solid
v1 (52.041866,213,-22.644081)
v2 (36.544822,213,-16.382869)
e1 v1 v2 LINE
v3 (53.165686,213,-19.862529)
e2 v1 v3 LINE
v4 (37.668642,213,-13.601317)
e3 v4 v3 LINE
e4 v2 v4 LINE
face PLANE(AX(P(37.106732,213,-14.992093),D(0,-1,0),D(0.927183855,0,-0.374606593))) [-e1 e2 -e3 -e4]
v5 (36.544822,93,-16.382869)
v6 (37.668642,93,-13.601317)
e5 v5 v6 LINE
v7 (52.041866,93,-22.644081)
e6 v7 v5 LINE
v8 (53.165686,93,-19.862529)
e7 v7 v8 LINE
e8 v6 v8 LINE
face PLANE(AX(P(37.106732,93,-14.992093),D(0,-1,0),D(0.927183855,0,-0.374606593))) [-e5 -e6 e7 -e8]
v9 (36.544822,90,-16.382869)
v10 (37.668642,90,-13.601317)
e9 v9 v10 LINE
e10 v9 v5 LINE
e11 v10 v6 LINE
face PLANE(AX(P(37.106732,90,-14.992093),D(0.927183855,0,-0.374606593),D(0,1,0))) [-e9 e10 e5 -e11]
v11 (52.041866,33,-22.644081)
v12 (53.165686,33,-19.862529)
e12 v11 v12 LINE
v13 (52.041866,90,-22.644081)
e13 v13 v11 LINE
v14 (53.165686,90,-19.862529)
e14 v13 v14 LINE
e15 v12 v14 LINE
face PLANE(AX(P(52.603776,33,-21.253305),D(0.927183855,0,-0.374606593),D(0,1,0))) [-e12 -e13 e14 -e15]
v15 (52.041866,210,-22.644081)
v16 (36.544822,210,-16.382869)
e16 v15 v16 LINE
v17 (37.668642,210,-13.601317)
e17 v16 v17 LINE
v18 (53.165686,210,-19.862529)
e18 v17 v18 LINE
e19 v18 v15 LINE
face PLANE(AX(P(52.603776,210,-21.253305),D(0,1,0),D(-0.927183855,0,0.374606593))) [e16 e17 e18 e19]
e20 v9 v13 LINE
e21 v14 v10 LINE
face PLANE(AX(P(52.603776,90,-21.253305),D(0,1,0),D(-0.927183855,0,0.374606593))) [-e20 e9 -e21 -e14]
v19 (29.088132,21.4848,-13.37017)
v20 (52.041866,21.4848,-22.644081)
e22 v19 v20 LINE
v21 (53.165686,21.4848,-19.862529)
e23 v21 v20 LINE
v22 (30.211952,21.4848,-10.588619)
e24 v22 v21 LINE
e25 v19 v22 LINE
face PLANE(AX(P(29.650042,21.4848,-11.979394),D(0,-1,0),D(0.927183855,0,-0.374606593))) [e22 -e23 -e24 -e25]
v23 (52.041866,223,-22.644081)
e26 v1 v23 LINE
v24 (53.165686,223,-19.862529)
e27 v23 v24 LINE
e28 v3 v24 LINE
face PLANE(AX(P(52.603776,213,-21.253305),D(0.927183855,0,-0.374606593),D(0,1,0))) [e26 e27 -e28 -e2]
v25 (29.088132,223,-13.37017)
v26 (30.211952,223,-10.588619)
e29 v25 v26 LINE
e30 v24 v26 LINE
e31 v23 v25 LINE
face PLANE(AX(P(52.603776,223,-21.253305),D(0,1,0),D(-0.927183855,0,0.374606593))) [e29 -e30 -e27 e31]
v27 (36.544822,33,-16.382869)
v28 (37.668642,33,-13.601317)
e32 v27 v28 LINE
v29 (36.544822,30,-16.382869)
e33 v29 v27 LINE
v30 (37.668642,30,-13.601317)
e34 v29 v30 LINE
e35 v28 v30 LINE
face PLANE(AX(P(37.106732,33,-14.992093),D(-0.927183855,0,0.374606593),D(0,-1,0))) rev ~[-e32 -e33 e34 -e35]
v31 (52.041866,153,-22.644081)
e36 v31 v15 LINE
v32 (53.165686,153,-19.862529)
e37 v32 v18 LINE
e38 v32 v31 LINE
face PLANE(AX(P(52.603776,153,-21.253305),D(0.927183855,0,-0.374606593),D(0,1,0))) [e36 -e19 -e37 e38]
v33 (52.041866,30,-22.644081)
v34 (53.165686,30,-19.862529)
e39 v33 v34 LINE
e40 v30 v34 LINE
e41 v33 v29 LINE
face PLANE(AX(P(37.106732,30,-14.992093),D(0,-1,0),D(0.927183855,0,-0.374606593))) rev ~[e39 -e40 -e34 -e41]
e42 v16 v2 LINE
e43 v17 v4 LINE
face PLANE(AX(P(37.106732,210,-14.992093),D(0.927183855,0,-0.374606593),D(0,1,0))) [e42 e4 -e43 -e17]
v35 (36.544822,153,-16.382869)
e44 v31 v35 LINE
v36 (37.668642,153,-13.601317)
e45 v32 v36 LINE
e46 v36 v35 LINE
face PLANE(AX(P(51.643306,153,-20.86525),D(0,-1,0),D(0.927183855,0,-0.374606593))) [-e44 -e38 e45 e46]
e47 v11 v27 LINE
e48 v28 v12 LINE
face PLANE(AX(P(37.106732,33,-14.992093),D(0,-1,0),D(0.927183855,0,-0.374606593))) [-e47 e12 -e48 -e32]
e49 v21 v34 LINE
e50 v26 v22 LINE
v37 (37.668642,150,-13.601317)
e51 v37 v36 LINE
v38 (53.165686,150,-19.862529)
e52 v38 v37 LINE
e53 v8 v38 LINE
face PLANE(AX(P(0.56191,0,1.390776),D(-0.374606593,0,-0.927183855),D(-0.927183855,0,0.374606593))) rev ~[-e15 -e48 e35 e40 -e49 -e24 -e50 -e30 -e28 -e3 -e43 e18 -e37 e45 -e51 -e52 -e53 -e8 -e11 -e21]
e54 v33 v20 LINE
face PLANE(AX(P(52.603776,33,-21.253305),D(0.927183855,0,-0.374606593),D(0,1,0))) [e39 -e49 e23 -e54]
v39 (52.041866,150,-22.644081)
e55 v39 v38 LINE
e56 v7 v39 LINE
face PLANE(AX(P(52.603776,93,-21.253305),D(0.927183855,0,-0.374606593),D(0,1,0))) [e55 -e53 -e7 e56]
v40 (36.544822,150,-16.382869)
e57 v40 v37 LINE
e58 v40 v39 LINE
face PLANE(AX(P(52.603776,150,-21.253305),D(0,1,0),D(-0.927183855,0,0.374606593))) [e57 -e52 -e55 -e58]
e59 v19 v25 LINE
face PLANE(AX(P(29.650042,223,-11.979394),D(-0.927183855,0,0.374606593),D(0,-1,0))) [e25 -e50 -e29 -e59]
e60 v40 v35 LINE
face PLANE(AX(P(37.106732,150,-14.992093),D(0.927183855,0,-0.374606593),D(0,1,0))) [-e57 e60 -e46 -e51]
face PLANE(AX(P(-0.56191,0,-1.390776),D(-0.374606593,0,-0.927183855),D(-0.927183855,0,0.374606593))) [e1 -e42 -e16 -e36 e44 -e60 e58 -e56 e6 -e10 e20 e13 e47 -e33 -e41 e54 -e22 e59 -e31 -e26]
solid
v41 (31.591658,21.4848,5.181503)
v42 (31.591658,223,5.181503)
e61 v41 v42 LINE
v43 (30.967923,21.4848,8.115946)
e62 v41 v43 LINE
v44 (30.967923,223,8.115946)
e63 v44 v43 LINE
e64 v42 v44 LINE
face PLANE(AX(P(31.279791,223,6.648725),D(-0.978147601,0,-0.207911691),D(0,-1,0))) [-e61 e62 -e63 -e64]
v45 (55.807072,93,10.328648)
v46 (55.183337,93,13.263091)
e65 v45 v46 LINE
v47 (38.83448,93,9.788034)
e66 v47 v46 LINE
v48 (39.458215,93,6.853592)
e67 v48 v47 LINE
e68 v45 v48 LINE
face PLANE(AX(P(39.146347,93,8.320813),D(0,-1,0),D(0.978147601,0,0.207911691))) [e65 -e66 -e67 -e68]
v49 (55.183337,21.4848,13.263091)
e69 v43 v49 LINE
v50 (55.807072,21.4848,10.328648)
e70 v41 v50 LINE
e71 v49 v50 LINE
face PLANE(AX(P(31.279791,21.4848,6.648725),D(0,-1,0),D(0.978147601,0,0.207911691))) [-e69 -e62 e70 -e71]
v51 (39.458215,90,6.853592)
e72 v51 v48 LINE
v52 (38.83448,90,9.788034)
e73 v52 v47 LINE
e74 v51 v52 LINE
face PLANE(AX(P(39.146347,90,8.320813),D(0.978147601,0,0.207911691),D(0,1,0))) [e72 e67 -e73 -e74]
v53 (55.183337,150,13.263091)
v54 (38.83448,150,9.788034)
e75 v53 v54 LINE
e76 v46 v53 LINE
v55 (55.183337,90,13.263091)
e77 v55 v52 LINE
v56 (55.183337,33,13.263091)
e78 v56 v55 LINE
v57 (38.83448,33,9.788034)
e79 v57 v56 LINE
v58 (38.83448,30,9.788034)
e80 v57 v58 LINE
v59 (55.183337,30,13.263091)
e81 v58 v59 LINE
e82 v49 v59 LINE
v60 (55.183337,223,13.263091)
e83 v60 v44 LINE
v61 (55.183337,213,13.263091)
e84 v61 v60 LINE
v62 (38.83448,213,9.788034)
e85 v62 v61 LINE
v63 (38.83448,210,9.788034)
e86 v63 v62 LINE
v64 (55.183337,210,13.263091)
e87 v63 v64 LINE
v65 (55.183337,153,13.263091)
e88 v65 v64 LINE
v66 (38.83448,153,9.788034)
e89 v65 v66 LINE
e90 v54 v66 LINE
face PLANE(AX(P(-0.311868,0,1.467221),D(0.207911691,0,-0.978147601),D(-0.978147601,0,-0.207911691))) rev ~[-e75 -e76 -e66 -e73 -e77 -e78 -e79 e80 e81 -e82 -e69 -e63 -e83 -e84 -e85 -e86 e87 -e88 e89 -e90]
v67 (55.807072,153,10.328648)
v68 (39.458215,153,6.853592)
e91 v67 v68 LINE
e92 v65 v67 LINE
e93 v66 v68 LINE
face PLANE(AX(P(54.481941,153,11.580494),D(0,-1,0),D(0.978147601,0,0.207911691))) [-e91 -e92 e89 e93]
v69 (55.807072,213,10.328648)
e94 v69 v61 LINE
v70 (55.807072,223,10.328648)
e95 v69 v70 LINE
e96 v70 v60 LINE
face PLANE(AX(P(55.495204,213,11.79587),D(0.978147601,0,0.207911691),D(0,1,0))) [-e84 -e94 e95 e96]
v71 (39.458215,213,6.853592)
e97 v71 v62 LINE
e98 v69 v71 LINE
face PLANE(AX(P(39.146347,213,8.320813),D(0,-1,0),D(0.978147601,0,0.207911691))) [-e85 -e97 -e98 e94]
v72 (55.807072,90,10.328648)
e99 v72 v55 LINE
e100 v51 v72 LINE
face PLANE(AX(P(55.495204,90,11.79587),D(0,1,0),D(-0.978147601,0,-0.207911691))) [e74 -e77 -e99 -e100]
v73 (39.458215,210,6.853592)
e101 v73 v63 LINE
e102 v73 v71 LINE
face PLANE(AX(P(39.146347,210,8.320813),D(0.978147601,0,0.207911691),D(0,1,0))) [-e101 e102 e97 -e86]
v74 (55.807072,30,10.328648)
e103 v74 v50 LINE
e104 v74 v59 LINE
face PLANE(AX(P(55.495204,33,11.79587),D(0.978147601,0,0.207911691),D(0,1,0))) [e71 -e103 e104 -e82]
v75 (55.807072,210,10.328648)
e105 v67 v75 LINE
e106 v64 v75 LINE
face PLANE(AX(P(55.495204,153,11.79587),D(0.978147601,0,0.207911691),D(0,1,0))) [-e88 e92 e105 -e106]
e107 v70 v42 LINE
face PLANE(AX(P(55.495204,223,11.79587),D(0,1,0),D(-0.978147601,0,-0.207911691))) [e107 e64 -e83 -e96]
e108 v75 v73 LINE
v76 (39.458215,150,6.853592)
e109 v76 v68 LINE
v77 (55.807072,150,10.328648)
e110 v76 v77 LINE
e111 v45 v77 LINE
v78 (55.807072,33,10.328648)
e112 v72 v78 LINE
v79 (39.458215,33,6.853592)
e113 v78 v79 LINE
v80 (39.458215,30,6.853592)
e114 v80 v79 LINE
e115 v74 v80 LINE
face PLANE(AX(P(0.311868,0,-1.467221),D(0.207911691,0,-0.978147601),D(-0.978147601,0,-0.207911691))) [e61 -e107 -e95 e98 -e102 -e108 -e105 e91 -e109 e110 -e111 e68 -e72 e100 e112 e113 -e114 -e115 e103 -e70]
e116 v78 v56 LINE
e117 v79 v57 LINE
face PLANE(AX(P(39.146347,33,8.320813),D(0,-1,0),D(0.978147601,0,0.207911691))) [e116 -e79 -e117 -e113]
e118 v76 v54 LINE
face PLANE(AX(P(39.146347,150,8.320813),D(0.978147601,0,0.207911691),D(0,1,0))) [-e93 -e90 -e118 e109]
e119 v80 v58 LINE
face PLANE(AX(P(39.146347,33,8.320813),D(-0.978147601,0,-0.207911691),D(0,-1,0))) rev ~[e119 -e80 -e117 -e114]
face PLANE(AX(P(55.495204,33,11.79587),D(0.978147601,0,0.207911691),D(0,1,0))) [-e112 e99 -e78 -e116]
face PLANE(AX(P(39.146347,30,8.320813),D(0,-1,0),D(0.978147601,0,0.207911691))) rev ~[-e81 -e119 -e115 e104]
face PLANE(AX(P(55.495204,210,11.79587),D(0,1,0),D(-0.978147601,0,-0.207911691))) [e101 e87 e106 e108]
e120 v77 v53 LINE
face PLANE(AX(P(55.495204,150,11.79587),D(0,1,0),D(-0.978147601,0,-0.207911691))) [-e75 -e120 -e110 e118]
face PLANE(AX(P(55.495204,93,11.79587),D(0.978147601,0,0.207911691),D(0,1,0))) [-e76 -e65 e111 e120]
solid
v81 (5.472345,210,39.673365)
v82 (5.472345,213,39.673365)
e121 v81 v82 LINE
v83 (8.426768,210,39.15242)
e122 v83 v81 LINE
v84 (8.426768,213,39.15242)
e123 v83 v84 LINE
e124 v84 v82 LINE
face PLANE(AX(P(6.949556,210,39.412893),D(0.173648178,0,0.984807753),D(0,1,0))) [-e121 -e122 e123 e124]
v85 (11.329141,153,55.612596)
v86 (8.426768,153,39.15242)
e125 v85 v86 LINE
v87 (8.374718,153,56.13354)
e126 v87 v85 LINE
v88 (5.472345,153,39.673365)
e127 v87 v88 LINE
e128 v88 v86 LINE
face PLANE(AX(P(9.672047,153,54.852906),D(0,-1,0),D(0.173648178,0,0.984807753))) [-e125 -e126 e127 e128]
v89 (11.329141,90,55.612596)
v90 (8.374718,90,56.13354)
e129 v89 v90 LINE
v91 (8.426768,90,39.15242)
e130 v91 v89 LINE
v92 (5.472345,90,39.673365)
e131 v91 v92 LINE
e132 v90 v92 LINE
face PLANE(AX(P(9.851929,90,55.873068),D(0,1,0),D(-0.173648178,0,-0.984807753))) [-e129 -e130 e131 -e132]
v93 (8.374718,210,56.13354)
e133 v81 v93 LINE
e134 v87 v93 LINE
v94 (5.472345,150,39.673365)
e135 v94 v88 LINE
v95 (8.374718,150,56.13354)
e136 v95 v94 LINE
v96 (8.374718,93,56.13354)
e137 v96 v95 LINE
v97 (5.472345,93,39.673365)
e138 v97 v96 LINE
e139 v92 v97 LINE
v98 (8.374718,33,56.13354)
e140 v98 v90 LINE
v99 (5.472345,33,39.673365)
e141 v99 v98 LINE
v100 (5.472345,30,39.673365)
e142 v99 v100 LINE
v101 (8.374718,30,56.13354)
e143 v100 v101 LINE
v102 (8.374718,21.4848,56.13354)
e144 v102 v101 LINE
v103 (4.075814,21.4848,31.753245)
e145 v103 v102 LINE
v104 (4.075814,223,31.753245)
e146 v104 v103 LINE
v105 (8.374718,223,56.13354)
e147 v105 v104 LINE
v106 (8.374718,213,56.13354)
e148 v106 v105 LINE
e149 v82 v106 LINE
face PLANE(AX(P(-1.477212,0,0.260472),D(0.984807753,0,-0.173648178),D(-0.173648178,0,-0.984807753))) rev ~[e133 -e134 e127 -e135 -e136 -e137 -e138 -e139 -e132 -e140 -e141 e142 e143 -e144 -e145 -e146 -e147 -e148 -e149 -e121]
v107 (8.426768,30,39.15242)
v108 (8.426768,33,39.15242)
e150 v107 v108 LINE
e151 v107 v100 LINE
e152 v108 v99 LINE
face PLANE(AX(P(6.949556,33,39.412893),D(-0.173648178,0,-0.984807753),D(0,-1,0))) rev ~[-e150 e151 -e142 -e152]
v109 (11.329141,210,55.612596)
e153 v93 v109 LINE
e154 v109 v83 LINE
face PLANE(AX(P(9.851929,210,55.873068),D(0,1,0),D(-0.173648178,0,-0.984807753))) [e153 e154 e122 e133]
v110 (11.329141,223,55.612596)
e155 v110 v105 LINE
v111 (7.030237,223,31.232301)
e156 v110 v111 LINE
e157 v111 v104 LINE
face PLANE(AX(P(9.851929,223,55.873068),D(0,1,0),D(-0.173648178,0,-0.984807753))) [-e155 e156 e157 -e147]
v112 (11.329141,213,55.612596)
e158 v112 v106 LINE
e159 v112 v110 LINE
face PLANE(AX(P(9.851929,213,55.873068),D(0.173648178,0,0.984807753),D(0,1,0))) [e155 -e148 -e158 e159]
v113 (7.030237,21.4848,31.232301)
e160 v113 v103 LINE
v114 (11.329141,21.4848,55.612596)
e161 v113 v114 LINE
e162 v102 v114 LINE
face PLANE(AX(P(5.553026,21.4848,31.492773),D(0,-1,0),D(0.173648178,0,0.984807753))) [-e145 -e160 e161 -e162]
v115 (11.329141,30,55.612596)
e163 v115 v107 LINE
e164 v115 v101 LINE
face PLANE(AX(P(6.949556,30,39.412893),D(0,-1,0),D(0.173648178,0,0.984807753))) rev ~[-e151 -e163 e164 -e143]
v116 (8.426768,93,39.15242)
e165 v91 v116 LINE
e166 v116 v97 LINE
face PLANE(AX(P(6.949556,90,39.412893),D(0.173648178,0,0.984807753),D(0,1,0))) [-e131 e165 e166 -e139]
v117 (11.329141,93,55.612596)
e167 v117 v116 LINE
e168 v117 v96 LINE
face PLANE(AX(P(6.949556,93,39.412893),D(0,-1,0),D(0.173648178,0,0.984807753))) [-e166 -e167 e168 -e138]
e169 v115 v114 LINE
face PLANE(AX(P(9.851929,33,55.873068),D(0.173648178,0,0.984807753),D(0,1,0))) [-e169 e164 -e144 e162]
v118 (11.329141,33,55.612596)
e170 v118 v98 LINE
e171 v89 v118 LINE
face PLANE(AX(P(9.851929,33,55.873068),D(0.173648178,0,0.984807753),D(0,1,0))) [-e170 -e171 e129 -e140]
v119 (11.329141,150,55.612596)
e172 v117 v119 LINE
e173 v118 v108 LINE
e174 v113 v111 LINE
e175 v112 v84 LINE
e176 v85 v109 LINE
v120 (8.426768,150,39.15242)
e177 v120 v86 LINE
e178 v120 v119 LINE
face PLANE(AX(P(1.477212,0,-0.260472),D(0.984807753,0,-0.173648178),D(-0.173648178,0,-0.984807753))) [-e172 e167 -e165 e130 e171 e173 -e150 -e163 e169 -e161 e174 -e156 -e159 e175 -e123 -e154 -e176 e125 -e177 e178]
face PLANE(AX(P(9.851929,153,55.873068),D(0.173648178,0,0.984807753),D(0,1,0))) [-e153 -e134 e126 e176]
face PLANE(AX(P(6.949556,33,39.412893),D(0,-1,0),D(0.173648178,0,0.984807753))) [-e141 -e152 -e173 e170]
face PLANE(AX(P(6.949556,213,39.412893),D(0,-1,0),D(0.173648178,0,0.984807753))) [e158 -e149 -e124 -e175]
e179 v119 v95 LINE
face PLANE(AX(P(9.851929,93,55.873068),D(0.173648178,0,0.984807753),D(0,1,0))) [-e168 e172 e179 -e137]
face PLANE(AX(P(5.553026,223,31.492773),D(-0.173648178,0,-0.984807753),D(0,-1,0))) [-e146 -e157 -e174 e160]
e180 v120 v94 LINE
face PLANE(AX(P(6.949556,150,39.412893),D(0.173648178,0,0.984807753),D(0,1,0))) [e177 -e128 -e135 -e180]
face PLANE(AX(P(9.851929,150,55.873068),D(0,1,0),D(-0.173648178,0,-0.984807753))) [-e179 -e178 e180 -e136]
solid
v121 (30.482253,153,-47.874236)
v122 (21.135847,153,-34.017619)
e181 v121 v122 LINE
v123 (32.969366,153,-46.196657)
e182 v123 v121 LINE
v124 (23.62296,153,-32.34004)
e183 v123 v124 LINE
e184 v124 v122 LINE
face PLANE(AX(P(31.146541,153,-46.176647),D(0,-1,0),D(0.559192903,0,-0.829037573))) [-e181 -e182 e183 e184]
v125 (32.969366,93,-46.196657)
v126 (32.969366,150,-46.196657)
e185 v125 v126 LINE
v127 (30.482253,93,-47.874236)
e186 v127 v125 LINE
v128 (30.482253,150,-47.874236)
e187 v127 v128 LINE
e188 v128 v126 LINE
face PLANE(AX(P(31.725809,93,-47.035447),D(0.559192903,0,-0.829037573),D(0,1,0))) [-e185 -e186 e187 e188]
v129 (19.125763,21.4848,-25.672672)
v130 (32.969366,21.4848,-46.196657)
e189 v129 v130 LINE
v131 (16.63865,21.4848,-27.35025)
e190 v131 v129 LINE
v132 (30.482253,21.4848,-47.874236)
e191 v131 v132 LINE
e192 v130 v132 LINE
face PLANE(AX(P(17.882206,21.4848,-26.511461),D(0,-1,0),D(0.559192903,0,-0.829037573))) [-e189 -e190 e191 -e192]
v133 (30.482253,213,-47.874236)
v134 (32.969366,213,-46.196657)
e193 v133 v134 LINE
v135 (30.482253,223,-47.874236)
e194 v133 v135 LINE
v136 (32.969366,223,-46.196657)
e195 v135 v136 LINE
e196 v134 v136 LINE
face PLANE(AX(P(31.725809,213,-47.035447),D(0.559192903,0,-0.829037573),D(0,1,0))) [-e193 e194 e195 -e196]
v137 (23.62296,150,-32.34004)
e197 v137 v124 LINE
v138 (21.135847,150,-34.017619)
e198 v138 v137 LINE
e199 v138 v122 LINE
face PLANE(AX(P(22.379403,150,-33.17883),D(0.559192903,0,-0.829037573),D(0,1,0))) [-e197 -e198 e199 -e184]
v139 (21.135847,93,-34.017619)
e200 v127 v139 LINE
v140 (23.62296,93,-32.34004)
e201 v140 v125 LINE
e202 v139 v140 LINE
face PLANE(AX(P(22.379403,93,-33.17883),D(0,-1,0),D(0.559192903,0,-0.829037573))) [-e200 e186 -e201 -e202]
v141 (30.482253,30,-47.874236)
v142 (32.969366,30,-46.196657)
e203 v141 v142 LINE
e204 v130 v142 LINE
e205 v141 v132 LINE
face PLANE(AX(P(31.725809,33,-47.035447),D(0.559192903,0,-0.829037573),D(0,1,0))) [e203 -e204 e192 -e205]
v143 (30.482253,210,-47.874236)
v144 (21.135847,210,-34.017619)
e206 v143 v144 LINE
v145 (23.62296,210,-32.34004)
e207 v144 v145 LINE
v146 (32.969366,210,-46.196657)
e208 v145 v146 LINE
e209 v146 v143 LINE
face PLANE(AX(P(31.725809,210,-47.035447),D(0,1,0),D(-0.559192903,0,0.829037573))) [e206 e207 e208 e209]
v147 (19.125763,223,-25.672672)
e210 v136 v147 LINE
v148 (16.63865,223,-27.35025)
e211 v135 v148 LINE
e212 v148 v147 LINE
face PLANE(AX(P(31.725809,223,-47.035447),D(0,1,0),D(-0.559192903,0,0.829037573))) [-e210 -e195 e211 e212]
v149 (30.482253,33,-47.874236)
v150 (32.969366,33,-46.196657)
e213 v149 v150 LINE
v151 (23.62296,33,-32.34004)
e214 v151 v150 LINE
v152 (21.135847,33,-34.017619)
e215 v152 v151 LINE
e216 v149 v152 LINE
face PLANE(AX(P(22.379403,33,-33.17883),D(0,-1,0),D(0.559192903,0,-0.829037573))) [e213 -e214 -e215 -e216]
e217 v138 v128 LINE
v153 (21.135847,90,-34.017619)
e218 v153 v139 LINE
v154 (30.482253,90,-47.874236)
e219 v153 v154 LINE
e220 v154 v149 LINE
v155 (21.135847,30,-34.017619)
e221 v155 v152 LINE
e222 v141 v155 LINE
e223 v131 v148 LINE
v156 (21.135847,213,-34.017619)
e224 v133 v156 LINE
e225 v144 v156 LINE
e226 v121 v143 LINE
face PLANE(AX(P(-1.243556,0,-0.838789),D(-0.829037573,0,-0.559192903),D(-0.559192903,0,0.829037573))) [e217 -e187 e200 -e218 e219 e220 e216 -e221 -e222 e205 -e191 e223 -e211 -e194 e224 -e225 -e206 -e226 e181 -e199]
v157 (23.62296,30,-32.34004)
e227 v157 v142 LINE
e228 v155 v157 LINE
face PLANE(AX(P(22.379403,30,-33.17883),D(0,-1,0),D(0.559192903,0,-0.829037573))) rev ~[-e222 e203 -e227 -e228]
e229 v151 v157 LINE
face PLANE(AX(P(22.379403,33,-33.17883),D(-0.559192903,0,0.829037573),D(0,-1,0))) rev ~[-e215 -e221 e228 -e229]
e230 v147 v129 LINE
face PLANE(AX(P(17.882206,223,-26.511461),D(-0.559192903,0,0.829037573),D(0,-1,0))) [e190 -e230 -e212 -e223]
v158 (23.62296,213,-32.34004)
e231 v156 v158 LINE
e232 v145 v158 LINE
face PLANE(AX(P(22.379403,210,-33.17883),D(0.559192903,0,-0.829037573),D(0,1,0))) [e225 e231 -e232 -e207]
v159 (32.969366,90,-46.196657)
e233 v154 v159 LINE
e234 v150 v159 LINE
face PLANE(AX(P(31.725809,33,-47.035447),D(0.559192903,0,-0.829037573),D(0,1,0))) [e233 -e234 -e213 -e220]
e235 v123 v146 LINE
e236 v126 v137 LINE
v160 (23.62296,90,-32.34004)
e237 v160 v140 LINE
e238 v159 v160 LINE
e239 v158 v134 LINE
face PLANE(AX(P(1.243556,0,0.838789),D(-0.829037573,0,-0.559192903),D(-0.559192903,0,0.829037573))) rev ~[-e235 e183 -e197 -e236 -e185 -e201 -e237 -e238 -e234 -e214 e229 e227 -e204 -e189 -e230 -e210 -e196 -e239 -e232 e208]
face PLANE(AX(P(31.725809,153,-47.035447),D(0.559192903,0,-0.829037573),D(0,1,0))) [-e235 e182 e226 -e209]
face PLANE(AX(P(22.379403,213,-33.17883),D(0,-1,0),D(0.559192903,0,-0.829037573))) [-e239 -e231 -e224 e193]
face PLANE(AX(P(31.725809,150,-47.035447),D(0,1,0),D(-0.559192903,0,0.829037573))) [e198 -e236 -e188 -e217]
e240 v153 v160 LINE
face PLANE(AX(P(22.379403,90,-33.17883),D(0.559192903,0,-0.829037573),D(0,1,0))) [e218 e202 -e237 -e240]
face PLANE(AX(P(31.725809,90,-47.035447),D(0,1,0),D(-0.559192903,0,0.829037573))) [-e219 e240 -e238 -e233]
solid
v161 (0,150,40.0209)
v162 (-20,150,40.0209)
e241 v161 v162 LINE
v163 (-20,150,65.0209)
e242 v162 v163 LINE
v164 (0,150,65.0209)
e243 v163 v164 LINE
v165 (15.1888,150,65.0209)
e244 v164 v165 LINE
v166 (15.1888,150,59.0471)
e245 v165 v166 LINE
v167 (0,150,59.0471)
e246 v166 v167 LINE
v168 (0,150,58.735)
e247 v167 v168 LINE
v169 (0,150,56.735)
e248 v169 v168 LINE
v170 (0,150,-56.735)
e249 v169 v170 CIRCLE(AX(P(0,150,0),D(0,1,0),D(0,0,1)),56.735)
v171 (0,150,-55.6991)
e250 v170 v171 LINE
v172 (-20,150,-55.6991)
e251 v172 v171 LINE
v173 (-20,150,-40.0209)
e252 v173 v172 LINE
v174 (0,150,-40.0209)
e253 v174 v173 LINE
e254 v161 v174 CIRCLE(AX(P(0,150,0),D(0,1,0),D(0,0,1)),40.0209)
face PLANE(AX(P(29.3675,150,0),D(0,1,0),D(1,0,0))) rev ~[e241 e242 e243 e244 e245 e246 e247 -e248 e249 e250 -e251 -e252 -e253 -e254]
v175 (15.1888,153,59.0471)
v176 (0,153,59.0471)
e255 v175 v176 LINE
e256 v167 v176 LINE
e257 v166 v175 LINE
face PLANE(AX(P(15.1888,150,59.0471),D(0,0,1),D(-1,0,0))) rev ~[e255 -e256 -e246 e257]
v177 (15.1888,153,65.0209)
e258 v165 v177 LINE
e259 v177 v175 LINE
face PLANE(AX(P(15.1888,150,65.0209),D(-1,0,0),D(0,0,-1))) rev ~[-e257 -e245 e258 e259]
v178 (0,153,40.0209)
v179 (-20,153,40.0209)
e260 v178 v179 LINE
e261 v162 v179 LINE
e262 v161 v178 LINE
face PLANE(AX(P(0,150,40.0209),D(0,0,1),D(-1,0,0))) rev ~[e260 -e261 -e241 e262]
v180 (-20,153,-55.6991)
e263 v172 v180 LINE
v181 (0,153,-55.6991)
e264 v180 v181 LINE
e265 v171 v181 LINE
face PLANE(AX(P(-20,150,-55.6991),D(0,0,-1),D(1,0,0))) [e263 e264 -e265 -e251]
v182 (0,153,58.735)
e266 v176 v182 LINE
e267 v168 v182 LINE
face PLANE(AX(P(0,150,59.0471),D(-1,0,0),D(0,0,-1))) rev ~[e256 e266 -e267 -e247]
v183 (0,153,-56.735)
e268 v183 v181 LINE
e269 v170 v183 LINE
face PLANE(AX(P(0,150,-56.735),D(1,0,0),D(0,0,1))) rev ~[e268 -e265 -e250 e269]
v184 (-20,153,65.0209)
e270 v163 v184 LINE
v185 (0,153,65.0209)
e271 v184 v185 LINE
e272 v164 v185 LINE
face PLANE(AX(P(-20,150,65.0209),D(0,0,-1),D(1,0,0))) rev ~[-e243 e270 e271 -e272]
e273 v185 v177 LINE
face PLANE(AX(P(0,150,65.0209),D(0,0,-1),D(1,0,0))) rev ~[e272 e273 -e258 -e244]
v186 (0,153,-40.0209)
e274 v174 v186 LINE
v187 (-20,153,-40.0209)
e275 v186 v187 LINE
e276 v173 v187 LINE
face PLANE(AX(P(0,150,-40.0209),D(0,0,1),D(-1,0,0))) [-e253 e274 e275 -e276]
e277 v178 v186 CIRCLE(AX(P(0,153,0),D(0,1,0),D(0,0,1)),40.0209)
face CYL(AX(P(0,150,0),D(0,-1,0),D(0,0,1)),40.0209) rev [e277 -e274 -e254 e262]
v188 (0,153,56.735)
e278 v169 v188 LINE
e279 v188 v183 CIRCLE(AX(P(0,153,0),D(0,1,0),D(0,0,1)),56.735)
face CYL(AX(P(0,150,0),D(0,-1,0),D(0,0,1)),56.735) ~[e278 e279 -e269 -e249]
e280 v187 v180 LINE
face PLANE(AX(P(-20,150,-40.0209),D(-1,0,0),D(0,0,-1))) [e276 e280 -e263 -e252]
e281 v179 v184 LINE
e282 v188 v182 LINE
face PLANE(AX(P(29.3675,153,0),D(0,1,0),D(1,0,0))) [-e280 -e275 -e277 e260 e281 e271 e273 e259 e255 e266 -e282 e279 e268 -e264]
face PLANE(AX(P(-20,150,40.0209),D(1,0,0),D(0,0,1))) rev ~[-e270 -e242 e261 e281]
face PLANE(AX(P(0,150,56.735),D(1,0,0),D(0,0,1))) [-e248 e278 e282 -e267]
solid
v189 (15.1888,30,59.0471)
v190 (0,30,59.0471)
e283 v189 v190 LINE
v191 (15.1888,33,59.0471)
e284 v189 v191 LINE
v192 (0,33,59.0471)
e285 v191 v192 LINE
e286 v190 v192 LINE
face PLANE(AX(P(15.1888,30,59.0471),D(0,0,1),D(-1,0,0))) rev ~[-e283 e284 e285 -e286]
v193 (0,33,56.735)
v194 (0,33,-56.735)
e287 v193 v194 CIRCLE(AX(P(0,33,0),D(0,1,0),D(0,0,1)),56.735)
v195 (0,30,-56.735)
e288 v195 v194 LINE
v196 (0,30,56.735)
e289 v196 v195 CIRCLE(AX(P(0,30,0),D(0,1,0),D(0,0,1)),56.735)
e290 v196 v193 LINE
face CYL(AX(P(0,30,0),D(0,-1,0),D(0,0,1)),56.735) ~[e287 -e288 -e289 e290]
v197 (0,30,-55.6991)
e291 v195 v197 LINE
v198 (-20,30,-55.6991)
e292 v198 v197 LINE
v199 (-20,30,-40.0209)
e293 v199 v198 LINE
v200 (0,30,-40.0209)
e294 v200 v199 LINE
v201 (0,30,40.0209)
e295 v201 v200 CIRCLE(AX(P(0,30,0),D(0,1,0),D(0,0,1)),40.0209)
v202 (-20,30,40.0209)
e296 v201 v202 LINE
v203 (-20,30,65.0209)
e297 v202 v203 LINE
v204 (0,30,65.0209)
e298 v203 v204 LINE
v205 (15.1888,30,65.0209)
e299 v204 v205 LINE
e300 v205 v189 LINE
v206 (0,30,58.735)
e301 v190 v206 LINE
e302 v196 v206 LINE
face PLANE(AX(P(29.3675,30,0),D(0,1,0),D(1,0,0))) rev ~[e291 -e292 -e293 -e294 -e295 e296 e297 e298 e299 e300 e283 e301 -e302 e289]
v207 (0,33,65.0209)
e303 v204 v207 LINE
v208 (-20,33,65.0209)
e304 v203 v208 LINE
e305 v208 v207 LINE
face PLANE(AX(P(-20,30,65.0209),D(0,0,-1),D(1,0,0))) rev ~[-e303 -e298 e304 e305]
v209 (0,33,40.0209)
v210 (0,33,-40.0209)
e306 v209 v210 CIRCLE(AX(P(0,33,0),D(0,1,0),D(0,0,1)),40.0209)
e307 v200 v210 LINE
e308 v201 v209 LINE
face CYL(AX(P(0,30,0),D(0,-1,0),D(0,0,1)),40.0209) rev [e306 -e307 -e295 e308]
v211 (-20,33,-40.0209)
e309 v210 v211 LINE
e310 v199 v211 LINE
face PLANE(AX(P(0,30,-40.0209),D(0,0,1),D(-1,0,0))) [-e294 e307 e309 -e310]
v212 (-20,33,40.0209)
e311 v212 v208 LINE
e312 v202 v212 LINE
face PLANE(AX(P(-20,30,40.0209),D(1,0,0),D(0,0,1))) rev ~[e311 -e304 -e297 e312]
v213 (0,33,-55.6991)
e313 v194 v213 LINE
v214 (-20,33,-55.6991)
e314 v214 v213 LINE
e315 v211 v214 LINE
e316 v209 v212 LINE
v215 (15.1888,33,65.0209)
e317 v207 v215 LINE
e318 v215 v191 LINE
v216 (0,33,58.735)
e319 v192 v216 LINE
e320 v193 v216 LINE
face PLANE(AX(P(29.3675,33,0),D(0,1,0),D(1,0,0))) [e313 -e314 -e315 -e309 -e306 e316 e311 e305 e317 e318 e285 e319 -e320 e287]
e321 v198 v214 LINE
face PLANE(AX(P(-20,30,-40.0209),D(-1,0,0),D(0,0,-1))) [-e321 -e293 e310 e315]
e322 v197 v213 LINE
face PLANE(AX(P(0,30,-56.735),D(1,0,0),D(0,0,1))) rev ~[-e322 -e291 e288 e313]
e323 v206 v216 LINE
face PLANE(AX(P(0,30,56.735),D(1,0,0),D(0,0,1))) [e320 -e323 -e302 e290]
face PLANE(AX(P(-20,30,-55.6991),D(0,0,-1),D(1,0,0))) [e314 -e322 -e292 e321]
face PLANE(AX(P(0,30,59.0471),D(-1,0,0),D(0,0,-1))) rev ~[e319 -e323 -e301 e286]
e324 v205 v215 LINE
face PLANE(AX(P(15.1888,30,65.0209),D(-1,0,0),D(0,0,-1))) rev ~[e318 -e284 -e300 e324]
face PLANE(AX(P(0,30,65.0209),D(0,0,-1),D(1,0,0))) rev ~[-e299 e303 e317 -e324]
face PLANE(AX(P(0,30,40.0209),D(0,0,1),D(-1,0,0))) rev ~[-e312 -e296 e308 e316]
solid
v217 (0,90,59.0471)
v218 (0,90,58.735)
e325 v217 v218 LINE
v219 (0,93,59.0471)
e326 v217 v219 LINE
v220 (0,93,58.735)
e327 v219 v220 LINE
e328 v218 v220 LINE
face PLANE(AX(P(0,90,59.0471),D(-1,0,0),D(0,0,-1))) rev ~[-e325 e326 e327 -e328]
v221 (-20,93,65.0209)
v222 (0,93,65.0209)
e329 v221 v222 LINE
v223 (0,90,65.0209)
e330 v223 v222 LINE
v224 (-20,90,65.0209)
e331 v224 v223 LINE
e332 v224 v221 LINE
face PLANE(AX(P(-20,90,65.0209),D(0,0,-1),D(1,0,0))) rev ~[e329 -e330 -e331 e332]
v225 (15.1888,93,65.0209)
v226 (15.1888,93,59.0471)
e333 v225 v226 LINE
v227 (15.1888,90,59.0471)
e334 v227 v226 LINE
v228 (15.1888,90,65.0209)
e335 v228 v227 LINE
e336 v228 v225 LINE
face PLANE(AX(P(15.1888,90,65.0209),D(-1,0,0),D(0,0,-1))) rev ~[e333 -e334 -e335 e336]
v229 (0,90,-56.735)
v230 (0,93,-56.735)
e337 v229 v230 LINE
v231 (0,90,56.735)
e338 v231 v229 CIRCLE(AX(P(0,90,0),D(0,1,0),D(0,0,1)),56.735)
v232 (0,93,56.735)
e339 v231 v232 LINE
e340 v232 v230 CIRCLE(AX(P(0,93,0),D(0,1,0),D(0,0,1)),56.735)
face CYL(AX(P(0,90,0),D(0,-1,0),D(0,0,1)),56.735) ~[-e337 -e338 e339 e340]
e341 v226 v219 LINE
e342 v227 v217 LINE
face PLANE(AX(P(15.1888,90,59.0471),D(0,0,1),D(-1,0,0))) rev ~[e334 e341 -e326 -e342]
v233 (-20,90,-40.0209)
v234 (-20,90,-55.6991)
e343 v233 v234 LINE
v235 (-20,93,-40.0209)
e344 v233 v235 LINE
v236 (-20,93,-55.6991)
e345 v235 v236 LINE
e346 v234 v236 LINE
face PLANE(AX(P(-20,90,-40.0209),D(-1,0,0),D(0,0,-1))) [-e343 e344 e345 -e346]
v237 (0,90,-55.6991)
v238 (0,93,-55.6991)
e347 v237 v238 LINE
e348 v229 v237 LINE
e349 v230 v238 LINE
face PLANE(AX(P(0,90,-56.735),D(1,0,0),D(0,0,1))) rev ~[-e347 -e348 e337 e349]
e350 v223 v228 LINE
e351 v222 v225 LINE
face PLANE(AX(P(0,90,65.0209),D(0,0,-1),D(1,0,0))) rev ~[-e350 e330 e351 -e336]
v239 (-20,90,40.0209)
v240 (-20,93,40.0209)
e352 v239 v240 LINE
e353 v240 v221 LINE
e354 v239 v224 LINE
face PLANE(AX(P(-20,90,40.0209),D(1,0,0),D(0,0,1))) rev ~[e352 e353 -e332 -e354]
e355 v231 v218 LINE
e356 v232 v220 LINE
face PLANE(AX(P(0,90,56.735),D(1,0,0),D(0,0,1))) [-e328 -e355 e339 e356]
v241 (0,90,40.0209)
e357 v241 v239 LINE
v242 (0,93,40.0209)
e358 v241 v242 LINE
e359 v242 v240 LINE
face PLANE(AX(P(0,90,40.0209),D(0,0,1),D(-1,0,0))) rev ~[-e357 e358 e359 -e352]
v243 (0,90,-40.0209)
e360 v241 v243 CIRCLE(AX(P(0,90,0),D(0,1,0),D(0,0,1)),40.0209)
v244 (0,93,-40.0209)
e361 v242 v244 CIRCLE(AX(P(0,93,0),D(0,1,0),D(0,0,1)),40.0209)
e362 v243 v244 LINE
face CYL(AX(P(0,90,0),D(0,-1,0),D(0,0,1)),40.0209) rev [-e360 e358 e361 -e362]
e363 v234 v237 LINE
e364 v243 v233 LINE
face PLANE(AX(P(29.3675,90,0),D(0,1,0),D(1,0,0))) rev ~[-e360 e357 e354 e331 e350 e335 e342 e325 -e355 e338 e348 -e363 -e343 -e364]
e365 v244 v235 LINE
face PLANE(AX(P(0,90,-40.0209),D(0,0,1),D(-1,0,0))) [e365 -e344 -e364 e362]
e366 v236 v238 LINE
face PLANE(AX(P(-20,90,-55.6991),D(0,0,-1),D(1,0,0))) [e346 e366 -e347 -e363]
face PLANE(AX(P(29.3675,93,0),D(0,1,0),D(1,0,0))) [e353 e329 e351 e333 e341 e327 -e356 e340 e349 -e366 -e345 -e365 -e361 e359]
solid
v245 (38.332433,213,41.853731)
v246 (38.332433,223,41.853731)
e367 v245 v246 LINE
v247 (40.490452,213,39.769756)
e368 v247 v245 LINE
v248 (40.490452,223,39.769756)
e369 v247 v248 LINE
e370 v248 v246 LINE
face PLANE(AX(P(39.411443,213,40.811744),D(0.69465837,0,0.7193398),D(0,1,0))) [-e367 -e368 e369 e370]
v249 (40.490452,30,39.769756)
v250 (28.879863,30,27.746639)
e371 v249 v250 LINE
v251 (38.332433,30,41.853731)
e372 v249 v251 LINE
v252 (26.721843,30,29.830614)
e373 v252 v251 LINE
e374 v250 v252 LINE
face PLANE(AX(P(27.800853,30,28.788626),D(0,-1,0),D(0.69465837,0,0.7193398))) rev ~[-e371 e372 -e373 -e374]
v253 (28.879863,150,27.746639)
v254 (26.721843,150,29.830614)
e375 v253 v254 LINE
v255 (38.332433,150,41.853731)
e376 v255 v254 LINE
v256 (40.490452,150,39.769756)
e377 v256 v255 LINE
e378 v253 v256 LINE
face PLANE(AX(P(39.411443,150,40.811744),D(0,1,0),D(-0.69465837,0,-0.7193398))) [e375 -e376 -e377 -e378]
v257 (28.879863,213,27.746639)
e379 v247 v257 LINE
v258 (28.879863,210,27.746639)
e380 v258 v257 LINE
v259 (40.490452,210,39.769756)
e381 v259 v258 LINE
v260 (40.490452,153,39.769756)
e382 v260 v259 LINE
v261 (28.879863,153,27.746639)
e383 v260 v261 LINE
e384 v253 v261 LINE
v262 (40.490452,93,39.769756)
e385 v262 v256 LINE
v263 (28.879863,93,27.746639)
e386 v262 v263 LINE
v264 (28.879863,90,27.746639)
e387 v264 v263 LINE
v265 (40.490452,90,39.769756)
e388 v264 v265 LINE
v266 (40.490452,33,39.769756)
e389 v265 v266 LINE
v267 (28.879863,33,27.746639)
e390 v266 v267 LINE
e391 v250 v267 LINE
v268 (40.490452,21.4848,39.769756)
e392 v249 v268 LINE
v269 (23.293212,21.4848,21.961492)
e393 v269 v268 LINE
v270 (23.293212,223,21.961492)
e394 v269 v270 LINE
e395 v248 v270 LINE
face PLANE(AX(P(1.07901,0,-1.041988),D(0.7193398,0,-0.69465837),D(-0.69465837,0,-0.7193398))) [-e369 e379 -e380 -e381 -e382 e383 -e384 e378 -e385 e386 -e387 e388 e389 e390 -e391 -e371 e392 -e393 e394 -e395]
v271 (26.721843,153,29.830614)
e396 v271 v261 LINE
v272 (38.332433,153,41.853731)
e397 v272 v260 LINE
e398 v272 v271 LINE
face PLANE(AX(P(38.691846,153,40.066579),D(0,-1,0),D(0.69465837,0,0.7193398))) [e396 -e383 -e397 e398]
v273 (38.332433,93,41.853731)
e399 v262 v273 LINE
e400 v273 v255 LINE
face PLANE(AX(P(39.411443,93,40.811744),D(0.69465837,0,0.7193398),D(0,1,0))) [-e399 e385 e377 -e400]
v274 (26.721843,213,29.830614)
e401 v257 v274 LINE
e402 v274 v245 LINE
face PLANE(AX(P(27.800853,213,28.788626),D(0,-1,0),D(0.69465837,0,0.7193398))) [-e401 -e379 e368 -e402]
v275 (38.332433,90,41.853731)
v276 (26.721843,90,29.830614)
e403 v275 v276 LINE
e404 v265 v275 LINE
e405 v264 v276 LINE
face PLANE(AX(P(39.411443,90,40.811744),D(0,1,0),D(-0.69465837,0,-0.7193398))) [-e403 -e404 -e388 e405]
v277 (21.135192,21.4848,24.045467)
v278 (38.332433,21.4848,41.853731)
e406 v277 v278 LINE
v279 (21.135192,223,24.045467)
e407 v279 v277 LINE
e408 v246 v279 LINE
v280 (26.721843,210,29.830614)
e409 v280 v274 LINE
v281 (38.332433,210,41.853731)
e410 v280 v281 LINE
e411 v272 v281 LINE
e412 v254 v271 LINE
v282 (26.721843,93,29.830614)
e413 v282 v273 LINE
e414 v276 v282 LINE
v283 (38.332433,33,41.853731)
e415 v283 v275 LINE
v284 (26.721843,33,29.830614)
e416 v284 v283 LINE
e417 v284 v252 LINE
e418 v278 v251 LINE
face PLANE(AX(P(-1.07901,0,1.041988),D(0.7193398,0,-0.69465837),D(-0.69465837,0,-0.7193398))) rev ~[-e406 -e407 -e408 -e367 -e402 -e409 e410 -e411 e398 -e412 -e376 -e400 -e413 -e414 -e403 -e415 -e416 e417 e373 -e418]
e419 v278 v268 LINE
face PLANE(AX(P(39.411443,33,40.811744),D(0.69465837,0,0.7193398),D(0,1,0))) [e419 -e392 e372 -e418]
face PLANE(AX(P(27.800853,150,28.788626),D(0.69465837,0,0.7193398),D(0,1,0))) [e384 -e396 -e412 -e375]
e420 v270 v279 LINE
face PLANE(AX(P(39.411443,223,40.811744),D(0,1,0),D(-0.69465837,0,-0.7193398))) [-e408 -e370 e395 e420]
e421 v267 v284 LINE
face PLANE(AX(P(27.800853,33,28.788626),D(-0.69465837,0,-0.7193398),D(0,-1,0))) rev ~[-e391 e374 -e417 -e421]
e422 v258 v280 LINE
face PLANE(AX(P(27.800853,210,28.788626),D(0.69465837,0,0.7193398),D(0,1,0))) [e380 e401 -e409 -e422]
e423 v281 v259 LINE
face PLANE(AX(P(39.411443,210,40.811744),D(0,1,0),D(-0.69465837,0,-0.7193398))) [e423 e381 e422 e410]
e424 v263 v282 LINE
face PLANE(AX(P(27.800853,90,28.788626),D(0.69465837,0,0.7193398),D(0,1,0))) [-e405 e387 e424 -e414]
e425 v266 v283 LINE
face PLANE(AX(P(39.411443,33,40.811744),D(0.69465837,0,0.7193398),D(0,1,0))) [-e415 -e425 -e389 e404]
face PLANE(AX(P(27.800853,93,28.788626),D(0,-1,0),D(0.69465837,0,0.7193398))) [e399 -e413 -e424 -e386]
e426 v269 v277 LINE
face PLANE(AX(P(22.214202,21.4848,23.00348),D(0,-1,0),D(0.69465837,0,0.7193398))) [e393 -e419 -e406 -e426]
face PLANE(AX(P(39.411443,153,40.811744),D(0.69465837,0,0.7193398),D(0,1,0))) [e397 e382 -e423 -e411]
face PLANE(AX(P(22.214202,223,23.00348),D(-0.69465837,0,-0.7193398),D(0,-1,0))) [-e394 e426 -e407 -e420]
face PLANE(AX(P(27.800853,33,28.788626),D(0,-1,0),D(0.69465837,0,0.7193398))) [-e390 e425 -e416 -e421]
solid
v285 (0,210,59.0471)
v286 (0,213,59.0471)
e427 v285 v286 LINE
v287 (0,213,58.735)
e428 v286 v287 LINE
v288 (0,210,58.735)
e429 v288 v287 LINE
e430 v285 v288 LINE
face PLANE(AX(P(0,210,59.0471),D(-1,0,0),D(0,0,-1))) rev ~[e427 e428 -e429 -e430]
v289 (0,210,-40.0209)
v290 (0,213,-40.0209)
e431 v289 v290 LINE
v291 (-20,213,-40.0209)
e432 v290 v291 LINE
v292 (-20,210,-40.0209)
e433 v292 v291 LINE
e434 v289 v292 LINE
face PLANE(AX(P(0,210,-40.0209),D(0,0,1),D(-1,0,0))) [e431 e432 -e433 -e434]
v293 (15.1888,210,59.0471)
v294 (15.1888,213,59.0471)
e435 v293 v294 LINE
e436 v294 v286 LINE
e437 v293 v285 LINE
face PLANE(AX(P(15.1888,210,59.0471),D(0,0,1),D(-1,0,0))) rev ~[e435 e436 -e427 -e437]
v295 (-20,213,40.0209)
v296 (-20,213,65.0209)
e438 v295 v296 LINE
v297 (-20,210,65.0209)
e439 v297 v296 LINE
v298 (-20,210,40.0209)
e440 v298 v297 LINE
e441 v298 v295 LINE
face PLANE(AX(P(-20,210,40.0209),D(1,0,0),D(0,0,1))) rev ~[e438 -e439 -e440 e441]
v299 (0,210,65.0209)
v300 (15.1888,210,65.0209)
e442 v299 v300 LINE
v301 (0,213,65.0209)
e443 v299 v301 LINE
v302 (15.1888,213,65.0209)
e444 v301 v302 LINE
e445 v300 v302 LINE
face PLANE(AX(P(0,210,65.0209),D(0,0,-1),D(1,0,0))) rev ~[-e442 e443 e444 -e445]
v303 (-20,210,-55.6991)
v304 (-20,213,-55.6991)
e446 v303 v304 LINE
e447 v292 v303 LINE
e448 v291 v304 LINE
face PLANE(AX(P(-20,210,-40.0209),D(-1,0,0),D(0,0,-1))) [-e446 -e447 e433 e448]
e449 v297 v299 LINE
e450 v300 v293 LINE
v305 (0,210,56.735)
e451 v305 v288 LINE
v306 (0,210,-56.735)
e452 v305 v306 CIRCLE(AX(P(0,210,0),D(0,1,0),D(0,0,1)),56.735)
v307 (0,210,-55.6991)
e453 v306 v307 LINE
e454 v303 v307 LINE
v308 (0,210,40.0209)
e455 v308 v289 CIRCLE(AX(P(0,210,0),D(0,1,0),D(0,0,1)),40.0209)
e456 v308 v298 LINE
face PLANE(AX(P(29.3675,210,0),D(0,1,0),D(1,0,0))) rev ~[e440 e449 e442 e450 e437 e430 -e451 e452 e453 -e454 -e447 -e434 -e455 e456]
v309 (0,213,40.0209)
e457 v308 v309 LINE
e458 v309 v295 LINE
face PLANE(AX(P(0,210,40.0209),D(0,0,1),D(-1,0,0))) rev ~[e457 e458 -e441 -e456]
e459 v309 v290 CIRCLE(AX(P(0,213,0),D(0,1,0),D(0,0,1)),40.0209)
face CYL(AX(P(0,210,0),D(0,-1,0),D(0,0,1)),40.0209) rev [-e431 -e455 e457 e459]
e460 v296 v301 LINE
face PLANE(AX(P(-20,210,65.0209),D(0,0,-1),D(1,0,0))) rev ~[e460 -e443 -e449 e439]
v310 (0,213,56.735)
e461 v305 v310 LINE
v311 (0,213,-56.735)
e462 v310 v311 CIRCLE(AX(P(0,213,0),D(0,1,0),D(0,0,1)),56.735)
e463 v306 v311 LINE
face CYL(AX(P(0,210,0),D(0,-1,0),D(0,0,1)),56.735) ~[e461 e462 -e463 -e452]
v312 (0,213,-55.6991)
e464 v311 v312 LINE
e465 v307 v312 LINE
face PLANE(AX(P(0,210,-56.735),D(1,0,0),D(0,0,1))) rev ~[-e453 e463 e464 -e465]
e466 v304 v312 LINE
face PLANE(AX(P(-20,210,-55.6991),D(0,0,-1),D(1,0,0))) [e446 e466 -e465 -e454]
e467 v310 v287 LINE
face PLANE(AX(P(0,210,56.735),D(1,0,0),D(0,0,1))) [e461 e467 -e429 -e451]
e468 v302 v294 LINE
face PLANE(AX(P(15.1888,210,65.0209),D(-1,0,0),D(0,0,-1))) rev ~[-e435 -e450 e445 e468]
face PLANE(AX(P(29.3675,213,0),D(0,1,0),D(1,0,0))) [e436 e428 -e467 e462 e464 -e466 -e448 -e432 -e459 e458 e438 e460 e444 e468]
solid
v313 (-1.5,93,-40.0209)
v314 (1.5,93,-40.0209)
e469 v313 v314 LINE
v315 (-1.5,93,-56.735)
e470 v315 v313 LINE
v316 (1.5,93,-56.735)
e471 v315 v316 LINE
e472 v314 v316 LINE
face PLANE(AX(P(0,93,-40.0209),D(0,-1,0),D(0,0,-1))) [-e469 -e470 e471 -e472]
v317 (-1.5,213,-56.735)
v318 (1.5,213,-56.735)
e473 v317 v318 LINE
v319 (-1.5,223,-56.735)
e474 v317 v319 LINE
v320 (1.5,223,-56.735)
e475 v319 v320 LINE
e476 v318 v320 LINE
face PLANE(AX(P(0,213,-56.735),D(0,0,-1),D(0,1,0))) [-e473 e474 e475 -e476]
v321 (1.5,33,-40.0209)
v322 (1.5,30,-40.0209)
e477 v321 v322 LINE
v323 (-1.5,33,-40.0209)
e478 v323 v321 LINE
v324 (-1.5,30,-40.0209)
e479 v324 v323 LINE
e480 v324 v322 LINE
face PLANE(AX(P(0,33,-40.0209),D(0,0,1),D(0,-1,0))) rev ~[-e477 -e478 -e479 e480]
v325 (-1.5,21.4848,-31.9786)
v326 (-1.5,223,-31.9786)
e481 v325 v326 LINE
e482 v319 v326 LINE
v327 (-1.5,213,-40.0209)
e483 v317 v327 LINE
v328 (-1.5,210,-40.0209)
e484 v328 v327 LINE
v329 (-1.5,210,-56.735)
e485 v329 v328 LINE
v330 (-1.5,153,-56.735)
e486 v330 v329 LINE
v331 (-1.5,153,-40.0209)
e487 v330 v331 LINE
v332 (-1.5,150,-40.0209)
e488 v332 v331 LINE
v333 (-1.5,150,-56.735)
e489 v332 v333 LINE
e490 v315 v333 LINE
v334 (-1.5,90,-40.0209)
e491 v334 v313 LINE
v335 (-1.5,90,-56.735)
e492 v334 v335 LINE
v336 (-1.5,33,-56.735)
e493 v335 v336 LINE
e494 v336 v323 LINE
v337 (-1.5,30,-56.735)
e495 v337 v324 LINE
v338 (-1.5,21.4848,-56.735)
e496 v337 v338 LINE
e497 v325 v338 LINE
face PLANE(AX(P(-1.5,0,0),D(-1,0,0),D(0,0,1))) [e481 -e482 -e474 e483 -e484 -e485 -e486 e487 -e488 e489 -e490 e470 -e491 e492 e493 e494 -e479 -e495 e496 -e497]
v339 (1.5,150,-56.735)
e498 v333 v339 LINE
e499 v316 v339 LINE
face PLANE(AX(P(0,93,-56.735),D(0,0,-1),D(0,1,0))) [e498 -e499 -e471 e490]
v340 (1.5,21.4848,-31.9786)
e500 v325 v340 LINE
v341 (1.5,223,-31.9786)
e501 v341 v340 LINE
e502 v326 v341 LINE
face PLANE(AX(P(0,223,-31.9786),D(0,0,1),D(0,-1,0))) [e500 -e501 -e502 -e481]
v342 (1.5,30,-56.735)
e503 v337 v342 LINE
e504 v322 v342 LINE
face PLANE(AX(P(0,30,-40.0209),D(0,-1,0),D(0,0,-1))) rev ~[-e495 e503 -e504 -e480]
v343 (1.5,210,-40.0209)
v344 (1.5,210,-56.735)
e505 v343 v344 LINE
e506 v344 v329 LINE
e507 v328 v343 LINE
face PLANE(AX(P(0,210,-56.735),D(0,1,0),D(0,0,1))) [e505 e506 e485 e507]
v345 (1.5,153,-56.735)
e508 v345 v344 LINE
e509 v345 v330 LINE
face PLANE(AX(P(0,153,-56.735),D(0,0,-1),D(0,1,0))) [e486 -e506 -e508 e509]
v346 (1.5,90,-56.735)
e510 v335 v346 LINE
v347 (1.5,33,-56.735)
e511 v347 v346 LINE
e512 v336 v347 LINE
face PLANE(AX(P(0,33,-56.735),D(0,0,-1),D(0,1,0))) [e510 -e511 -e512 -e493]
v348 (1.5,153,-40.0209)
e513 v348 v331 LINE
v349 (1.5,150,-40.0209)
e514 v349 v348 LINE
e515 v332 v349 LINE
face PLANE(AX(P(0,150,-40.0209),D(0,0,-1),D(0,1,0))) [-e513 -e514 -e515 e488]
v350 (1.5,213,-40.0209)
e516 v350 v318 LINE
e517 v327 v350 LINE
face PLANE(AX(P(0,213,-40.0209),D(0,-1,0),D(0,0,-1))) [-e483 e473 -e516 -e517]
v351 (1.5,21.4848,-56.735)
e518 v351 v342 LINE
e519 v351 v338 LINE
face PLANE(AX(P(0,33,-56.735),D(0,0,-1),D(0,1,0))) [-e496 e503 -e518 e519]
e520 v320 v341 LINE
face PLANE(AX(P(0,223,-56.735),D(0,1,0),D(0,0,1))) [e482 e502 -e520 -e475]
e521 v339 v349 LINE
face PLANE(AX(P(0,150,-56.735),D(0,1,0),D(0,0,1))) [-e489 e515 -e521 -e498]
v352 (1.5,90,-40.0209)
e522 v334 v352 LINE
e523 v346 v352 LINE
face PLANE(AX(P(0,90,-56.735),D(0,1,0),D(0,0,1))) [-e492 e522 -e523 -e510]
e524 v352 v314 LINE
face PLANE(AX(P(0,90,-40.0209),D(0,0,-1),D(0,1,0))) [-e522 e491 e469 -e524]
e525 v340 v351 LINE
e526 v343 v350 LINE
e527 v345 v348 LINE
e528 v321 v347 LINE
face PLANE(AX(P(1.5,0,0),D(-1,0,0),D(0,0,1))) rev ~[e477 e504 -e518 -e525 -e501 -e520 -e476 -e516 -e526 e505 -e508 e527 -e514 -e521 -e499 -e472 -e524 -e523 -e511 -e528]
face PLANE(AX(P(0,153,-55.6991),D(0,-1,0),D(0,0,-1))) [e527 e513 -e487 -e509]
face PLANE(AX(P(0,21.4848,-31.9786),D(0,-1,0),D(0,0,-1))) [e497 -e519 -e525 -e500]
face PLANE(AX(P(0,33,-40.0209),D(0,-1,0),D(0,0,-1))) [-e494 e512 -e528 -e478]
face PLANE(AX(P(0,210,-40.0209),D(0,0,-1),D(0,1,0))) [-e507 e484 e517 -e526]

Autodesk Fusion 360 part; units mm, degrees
sketch "Sketch1" plane through (0, 0, 0) normal (0, 1, 0) x (1, 0, 0)
  line L0 (0, 0) -> (0, 63.9553)
  line L1 (0, 0) -> (0, -73.7364)
  arc A0 (0, -58.735) -> (0, 58.735) centre (0, 0) ccw
  arc A1 (0, -56.735) -> (0, 56.735) centre (0, 0) ccw
  dimension "d1" = 117.47
extrude "Extrude1" add sketch "Sketch1" along normal blind 250 contours L0 L1 A0 A1 makes body 1
ref_plane "WorkPlane1" through (29.3675, 210, 0) normal (0, 1, 0) x (1, 0, 0)
sketch "Sketch2" plane through (29.3675, 210, 0) normal (0, 1, 0) x (1, 0, 0)
  arc A0 (-29.3675, -58.735) -> (-29.3675, 58.735) centre (-29.3675, 0) ccw
  line L0 (-29.3675, 58.735) -> (-29.3675, 56.735)
  arc A1 (-29.3675, -56.735) -> (-29.3675, 56.735) centre (-29.3675, 0) ccw
  line L1 (-29.3675, -56.735) -> (-29.3675, -58.735)
  arc A2 (-29.3675, -40.0209) -> (-29.3675, 40.0209) centre (-29.3675, 0) ccw
  line L2 (-29.3675, -40.0209) -> (-49.3675, -40.0209)
  line L3 (-49.3675, -40.0209) -> (-49.3675, -65.0209)
  line L4 (-49.3675, -65.0209) -> (-29.3675, -65.0209)
  line L5 (-29.3675, -59.0471) -> (-29.3675, -56.735)
  line L6 (-29.3675, 40.0209) -> (-49.3675, 40.0209)
  line L7 (-49.3675, 40.0209) -> (-49.3675, 55.6991)
  line L8 (-49.3675, 55.6991) -> (-29.3675, 55.6991)
  line L9 (-29.3675, 56.735) -> (-29.3675, 55.6991)
  line L10 (-29.3675, -65.0209) -> (-14.1787, -65.0209)
  line L11 (-14.1787, -65.0209) -> (-14.1787, -59.0471)
  line L12 (-14.1787, -59.0471) -> (-29.3675, -59.0471)
  dimension "d7" = 20
  dimension "d8" = 25
  dimension "d9" = 20
extrude "Extrude2" add sketch "Sketch2" along normal blind 3 separate body contours A1 L1 A2 L2 L3 L4 L5 L6 L7 L8 L9 L10 L11 L12 makes body 2
pattern_linear "R-Pattern1" count 4 spacing 60 along (0, -1, 0) of bodies 2 makes body 3 at (-13.3333, 150, 53.9256) makes body 4 at (-13.3333, 90, 53.9256) makes body 5 at (-13.3333, 30, 53.9256)
sketch "Sketch3" plane through (0, 0, 0) normal (-1, 0, 0) x (0, 0, 1)
  line L0 (-56.735, 210) -> (-55.6991, 210)
  line L1 (-55.6991, 210) -> (-55.6991, 213)
  line L2 (-55.6991, 213) -> (-56.735, 213)
  line L3 (-56.735, 213) -> (-56.735, 210)
  line L4 (-56.735, 213) -> (-56.735, 223) construction
  line L5 (-56.735, 223) -> (-31.9786, 223)
  line L6 (-31.9786, 223) -> (-31.9786, 21.4848)
  line L7 (-31.9786, 21.4848) -> (-56.735, 21.4848)
  line L8 (-56.735, 21.4848) -> (-56.735, 223)
  line L9 (-55.6991, 210) -> (-40.0209, 210)
  line L10 (-40.0209, 210) -> (-40.0209, 213)
  line L11 (-40.0209, 213) -> (-55.6991, 213)
  line L12 (-55.6991, 213) -> (-55.6991, 210)
  line L13 (-55.6991, 150) -> (-40.0209, 150)
  line L14 (-40.0209, 150) -> (-40.0209, 153)
  line L15 (-40.0209, 153) -> (-55.6991, 153)
  line L16 (-55.6991, 153) -> (-55.6991, 150)
  line L17 (-56.735, 150) -> (-55.6991, 150)
  line L18 (-55.6991, 150) -> (-55.6991, 153)
  line L19 (-55.6991, 153) -> (-56.735, 153)
  line L20 (-56.735, 153) -> (-56.735, 150)
  line L21 (-55.6991, 90) -> (-40.0209, 90)
  line L22 (-40.0209, 90) -> (-40.0209, 93)
  line L23 (-40.0209, 93) -> (-55.6991, 93)
  line L24 (-55.6991, 93) -> (-55.6991, 90)
  line L25 (-56.735, 90) -> (-55.6991, 90)
  line L26 (-55.6991, 90) -> (-55.6991, 93)
  line L27 (-55.6991, 93) -> (-56.735, 93)
  line L28 (-56.735, 93) -> (-56.735, 90)
  line L29 (56.735, 30) -> (-56.735, 30)
  line L30 (-56.735, 30) -> (-56.735, 33)
  line L31 (56.735, 33) -> (-56.735, 33)
  line L32 (56.735, 33) -> (56.735, 30)
  line L33 (-40.0209, 93) -> (-40.0209, 25.2601) construction
  line L34 (-40.0209, 33) -> (-40.0209, 30)
  dimension "d16" = 10
extrude "Extrude3" add sketch "Sketch3" along normal mid plane 3 separate body contours L0 L2 L5 L6 L8 L9 L10 L11 L13 L14 L15 L17 L19 L21 L22 L23 L25 L27 L31 | L6 L29 L31 L34 | L6 L7 L8 L29 | L8 L29 L30 L31 L34 makes body 6
sketch "Sketch4" plane through (0, 213, 0) normal (0, 1, 0) x (-1, 0, 0)
  line L0 (0, 40.0209) -> (20, 40.0209)
  line L1 (20, 40.0209) -> (20, 65.0209)
  line L2 (20, 65.0209) -> (-15.1888, 65.0209)
  line L3 (-15.1888, 65.0209) -> (-15.1888, 59.0471)
  line L4 (-15.1888, 59.0471) -> (0, 59.0471)
  line L5 (0, 59.0471) -> (0, 56.735)
  arc A0 (0, 56.735) -> (0, -56.735) centre (0, 0) ccw
  line L6 (0, -56.735) -> (0, -55.6991)
  line L7 (0, -55.6991) -> (20, -55.6991)
  line L8 (20, -55.6991) -> (20, -40.0209)
  line L9 (20, -40.0209) -> (0, -40.0209)
  arc A1 (0, 40.0209) -> (0, -40.0209) centre (0, 0) ccw
extrude "Extrude4" cut sketch "Sketch3" along normal blind 25 contours L8 L29 L30 L31 L34 bodies 6
extrude "Extrude5" cut sketch "Sketch3" against normal blind 18 contours L8 L29 L30 L31 L34 bodies 6
delete_body "RemoveBody1" bodies 1
pattern_circular "C-Pattern1" count 6 over 170 about axis through (0, 1.75, 0) along (0, -1, 0) of bodies 6 makes body 7 at (29.8539, 131, -41.5778) makes body 8 at (48, 71, -17.7755) makes body 9 at (44.9078, 131, 8.0119) makes body 10 at (30.592, 71, 33.8383) makes body 11 at (7.4073, 71, 50.6468)
